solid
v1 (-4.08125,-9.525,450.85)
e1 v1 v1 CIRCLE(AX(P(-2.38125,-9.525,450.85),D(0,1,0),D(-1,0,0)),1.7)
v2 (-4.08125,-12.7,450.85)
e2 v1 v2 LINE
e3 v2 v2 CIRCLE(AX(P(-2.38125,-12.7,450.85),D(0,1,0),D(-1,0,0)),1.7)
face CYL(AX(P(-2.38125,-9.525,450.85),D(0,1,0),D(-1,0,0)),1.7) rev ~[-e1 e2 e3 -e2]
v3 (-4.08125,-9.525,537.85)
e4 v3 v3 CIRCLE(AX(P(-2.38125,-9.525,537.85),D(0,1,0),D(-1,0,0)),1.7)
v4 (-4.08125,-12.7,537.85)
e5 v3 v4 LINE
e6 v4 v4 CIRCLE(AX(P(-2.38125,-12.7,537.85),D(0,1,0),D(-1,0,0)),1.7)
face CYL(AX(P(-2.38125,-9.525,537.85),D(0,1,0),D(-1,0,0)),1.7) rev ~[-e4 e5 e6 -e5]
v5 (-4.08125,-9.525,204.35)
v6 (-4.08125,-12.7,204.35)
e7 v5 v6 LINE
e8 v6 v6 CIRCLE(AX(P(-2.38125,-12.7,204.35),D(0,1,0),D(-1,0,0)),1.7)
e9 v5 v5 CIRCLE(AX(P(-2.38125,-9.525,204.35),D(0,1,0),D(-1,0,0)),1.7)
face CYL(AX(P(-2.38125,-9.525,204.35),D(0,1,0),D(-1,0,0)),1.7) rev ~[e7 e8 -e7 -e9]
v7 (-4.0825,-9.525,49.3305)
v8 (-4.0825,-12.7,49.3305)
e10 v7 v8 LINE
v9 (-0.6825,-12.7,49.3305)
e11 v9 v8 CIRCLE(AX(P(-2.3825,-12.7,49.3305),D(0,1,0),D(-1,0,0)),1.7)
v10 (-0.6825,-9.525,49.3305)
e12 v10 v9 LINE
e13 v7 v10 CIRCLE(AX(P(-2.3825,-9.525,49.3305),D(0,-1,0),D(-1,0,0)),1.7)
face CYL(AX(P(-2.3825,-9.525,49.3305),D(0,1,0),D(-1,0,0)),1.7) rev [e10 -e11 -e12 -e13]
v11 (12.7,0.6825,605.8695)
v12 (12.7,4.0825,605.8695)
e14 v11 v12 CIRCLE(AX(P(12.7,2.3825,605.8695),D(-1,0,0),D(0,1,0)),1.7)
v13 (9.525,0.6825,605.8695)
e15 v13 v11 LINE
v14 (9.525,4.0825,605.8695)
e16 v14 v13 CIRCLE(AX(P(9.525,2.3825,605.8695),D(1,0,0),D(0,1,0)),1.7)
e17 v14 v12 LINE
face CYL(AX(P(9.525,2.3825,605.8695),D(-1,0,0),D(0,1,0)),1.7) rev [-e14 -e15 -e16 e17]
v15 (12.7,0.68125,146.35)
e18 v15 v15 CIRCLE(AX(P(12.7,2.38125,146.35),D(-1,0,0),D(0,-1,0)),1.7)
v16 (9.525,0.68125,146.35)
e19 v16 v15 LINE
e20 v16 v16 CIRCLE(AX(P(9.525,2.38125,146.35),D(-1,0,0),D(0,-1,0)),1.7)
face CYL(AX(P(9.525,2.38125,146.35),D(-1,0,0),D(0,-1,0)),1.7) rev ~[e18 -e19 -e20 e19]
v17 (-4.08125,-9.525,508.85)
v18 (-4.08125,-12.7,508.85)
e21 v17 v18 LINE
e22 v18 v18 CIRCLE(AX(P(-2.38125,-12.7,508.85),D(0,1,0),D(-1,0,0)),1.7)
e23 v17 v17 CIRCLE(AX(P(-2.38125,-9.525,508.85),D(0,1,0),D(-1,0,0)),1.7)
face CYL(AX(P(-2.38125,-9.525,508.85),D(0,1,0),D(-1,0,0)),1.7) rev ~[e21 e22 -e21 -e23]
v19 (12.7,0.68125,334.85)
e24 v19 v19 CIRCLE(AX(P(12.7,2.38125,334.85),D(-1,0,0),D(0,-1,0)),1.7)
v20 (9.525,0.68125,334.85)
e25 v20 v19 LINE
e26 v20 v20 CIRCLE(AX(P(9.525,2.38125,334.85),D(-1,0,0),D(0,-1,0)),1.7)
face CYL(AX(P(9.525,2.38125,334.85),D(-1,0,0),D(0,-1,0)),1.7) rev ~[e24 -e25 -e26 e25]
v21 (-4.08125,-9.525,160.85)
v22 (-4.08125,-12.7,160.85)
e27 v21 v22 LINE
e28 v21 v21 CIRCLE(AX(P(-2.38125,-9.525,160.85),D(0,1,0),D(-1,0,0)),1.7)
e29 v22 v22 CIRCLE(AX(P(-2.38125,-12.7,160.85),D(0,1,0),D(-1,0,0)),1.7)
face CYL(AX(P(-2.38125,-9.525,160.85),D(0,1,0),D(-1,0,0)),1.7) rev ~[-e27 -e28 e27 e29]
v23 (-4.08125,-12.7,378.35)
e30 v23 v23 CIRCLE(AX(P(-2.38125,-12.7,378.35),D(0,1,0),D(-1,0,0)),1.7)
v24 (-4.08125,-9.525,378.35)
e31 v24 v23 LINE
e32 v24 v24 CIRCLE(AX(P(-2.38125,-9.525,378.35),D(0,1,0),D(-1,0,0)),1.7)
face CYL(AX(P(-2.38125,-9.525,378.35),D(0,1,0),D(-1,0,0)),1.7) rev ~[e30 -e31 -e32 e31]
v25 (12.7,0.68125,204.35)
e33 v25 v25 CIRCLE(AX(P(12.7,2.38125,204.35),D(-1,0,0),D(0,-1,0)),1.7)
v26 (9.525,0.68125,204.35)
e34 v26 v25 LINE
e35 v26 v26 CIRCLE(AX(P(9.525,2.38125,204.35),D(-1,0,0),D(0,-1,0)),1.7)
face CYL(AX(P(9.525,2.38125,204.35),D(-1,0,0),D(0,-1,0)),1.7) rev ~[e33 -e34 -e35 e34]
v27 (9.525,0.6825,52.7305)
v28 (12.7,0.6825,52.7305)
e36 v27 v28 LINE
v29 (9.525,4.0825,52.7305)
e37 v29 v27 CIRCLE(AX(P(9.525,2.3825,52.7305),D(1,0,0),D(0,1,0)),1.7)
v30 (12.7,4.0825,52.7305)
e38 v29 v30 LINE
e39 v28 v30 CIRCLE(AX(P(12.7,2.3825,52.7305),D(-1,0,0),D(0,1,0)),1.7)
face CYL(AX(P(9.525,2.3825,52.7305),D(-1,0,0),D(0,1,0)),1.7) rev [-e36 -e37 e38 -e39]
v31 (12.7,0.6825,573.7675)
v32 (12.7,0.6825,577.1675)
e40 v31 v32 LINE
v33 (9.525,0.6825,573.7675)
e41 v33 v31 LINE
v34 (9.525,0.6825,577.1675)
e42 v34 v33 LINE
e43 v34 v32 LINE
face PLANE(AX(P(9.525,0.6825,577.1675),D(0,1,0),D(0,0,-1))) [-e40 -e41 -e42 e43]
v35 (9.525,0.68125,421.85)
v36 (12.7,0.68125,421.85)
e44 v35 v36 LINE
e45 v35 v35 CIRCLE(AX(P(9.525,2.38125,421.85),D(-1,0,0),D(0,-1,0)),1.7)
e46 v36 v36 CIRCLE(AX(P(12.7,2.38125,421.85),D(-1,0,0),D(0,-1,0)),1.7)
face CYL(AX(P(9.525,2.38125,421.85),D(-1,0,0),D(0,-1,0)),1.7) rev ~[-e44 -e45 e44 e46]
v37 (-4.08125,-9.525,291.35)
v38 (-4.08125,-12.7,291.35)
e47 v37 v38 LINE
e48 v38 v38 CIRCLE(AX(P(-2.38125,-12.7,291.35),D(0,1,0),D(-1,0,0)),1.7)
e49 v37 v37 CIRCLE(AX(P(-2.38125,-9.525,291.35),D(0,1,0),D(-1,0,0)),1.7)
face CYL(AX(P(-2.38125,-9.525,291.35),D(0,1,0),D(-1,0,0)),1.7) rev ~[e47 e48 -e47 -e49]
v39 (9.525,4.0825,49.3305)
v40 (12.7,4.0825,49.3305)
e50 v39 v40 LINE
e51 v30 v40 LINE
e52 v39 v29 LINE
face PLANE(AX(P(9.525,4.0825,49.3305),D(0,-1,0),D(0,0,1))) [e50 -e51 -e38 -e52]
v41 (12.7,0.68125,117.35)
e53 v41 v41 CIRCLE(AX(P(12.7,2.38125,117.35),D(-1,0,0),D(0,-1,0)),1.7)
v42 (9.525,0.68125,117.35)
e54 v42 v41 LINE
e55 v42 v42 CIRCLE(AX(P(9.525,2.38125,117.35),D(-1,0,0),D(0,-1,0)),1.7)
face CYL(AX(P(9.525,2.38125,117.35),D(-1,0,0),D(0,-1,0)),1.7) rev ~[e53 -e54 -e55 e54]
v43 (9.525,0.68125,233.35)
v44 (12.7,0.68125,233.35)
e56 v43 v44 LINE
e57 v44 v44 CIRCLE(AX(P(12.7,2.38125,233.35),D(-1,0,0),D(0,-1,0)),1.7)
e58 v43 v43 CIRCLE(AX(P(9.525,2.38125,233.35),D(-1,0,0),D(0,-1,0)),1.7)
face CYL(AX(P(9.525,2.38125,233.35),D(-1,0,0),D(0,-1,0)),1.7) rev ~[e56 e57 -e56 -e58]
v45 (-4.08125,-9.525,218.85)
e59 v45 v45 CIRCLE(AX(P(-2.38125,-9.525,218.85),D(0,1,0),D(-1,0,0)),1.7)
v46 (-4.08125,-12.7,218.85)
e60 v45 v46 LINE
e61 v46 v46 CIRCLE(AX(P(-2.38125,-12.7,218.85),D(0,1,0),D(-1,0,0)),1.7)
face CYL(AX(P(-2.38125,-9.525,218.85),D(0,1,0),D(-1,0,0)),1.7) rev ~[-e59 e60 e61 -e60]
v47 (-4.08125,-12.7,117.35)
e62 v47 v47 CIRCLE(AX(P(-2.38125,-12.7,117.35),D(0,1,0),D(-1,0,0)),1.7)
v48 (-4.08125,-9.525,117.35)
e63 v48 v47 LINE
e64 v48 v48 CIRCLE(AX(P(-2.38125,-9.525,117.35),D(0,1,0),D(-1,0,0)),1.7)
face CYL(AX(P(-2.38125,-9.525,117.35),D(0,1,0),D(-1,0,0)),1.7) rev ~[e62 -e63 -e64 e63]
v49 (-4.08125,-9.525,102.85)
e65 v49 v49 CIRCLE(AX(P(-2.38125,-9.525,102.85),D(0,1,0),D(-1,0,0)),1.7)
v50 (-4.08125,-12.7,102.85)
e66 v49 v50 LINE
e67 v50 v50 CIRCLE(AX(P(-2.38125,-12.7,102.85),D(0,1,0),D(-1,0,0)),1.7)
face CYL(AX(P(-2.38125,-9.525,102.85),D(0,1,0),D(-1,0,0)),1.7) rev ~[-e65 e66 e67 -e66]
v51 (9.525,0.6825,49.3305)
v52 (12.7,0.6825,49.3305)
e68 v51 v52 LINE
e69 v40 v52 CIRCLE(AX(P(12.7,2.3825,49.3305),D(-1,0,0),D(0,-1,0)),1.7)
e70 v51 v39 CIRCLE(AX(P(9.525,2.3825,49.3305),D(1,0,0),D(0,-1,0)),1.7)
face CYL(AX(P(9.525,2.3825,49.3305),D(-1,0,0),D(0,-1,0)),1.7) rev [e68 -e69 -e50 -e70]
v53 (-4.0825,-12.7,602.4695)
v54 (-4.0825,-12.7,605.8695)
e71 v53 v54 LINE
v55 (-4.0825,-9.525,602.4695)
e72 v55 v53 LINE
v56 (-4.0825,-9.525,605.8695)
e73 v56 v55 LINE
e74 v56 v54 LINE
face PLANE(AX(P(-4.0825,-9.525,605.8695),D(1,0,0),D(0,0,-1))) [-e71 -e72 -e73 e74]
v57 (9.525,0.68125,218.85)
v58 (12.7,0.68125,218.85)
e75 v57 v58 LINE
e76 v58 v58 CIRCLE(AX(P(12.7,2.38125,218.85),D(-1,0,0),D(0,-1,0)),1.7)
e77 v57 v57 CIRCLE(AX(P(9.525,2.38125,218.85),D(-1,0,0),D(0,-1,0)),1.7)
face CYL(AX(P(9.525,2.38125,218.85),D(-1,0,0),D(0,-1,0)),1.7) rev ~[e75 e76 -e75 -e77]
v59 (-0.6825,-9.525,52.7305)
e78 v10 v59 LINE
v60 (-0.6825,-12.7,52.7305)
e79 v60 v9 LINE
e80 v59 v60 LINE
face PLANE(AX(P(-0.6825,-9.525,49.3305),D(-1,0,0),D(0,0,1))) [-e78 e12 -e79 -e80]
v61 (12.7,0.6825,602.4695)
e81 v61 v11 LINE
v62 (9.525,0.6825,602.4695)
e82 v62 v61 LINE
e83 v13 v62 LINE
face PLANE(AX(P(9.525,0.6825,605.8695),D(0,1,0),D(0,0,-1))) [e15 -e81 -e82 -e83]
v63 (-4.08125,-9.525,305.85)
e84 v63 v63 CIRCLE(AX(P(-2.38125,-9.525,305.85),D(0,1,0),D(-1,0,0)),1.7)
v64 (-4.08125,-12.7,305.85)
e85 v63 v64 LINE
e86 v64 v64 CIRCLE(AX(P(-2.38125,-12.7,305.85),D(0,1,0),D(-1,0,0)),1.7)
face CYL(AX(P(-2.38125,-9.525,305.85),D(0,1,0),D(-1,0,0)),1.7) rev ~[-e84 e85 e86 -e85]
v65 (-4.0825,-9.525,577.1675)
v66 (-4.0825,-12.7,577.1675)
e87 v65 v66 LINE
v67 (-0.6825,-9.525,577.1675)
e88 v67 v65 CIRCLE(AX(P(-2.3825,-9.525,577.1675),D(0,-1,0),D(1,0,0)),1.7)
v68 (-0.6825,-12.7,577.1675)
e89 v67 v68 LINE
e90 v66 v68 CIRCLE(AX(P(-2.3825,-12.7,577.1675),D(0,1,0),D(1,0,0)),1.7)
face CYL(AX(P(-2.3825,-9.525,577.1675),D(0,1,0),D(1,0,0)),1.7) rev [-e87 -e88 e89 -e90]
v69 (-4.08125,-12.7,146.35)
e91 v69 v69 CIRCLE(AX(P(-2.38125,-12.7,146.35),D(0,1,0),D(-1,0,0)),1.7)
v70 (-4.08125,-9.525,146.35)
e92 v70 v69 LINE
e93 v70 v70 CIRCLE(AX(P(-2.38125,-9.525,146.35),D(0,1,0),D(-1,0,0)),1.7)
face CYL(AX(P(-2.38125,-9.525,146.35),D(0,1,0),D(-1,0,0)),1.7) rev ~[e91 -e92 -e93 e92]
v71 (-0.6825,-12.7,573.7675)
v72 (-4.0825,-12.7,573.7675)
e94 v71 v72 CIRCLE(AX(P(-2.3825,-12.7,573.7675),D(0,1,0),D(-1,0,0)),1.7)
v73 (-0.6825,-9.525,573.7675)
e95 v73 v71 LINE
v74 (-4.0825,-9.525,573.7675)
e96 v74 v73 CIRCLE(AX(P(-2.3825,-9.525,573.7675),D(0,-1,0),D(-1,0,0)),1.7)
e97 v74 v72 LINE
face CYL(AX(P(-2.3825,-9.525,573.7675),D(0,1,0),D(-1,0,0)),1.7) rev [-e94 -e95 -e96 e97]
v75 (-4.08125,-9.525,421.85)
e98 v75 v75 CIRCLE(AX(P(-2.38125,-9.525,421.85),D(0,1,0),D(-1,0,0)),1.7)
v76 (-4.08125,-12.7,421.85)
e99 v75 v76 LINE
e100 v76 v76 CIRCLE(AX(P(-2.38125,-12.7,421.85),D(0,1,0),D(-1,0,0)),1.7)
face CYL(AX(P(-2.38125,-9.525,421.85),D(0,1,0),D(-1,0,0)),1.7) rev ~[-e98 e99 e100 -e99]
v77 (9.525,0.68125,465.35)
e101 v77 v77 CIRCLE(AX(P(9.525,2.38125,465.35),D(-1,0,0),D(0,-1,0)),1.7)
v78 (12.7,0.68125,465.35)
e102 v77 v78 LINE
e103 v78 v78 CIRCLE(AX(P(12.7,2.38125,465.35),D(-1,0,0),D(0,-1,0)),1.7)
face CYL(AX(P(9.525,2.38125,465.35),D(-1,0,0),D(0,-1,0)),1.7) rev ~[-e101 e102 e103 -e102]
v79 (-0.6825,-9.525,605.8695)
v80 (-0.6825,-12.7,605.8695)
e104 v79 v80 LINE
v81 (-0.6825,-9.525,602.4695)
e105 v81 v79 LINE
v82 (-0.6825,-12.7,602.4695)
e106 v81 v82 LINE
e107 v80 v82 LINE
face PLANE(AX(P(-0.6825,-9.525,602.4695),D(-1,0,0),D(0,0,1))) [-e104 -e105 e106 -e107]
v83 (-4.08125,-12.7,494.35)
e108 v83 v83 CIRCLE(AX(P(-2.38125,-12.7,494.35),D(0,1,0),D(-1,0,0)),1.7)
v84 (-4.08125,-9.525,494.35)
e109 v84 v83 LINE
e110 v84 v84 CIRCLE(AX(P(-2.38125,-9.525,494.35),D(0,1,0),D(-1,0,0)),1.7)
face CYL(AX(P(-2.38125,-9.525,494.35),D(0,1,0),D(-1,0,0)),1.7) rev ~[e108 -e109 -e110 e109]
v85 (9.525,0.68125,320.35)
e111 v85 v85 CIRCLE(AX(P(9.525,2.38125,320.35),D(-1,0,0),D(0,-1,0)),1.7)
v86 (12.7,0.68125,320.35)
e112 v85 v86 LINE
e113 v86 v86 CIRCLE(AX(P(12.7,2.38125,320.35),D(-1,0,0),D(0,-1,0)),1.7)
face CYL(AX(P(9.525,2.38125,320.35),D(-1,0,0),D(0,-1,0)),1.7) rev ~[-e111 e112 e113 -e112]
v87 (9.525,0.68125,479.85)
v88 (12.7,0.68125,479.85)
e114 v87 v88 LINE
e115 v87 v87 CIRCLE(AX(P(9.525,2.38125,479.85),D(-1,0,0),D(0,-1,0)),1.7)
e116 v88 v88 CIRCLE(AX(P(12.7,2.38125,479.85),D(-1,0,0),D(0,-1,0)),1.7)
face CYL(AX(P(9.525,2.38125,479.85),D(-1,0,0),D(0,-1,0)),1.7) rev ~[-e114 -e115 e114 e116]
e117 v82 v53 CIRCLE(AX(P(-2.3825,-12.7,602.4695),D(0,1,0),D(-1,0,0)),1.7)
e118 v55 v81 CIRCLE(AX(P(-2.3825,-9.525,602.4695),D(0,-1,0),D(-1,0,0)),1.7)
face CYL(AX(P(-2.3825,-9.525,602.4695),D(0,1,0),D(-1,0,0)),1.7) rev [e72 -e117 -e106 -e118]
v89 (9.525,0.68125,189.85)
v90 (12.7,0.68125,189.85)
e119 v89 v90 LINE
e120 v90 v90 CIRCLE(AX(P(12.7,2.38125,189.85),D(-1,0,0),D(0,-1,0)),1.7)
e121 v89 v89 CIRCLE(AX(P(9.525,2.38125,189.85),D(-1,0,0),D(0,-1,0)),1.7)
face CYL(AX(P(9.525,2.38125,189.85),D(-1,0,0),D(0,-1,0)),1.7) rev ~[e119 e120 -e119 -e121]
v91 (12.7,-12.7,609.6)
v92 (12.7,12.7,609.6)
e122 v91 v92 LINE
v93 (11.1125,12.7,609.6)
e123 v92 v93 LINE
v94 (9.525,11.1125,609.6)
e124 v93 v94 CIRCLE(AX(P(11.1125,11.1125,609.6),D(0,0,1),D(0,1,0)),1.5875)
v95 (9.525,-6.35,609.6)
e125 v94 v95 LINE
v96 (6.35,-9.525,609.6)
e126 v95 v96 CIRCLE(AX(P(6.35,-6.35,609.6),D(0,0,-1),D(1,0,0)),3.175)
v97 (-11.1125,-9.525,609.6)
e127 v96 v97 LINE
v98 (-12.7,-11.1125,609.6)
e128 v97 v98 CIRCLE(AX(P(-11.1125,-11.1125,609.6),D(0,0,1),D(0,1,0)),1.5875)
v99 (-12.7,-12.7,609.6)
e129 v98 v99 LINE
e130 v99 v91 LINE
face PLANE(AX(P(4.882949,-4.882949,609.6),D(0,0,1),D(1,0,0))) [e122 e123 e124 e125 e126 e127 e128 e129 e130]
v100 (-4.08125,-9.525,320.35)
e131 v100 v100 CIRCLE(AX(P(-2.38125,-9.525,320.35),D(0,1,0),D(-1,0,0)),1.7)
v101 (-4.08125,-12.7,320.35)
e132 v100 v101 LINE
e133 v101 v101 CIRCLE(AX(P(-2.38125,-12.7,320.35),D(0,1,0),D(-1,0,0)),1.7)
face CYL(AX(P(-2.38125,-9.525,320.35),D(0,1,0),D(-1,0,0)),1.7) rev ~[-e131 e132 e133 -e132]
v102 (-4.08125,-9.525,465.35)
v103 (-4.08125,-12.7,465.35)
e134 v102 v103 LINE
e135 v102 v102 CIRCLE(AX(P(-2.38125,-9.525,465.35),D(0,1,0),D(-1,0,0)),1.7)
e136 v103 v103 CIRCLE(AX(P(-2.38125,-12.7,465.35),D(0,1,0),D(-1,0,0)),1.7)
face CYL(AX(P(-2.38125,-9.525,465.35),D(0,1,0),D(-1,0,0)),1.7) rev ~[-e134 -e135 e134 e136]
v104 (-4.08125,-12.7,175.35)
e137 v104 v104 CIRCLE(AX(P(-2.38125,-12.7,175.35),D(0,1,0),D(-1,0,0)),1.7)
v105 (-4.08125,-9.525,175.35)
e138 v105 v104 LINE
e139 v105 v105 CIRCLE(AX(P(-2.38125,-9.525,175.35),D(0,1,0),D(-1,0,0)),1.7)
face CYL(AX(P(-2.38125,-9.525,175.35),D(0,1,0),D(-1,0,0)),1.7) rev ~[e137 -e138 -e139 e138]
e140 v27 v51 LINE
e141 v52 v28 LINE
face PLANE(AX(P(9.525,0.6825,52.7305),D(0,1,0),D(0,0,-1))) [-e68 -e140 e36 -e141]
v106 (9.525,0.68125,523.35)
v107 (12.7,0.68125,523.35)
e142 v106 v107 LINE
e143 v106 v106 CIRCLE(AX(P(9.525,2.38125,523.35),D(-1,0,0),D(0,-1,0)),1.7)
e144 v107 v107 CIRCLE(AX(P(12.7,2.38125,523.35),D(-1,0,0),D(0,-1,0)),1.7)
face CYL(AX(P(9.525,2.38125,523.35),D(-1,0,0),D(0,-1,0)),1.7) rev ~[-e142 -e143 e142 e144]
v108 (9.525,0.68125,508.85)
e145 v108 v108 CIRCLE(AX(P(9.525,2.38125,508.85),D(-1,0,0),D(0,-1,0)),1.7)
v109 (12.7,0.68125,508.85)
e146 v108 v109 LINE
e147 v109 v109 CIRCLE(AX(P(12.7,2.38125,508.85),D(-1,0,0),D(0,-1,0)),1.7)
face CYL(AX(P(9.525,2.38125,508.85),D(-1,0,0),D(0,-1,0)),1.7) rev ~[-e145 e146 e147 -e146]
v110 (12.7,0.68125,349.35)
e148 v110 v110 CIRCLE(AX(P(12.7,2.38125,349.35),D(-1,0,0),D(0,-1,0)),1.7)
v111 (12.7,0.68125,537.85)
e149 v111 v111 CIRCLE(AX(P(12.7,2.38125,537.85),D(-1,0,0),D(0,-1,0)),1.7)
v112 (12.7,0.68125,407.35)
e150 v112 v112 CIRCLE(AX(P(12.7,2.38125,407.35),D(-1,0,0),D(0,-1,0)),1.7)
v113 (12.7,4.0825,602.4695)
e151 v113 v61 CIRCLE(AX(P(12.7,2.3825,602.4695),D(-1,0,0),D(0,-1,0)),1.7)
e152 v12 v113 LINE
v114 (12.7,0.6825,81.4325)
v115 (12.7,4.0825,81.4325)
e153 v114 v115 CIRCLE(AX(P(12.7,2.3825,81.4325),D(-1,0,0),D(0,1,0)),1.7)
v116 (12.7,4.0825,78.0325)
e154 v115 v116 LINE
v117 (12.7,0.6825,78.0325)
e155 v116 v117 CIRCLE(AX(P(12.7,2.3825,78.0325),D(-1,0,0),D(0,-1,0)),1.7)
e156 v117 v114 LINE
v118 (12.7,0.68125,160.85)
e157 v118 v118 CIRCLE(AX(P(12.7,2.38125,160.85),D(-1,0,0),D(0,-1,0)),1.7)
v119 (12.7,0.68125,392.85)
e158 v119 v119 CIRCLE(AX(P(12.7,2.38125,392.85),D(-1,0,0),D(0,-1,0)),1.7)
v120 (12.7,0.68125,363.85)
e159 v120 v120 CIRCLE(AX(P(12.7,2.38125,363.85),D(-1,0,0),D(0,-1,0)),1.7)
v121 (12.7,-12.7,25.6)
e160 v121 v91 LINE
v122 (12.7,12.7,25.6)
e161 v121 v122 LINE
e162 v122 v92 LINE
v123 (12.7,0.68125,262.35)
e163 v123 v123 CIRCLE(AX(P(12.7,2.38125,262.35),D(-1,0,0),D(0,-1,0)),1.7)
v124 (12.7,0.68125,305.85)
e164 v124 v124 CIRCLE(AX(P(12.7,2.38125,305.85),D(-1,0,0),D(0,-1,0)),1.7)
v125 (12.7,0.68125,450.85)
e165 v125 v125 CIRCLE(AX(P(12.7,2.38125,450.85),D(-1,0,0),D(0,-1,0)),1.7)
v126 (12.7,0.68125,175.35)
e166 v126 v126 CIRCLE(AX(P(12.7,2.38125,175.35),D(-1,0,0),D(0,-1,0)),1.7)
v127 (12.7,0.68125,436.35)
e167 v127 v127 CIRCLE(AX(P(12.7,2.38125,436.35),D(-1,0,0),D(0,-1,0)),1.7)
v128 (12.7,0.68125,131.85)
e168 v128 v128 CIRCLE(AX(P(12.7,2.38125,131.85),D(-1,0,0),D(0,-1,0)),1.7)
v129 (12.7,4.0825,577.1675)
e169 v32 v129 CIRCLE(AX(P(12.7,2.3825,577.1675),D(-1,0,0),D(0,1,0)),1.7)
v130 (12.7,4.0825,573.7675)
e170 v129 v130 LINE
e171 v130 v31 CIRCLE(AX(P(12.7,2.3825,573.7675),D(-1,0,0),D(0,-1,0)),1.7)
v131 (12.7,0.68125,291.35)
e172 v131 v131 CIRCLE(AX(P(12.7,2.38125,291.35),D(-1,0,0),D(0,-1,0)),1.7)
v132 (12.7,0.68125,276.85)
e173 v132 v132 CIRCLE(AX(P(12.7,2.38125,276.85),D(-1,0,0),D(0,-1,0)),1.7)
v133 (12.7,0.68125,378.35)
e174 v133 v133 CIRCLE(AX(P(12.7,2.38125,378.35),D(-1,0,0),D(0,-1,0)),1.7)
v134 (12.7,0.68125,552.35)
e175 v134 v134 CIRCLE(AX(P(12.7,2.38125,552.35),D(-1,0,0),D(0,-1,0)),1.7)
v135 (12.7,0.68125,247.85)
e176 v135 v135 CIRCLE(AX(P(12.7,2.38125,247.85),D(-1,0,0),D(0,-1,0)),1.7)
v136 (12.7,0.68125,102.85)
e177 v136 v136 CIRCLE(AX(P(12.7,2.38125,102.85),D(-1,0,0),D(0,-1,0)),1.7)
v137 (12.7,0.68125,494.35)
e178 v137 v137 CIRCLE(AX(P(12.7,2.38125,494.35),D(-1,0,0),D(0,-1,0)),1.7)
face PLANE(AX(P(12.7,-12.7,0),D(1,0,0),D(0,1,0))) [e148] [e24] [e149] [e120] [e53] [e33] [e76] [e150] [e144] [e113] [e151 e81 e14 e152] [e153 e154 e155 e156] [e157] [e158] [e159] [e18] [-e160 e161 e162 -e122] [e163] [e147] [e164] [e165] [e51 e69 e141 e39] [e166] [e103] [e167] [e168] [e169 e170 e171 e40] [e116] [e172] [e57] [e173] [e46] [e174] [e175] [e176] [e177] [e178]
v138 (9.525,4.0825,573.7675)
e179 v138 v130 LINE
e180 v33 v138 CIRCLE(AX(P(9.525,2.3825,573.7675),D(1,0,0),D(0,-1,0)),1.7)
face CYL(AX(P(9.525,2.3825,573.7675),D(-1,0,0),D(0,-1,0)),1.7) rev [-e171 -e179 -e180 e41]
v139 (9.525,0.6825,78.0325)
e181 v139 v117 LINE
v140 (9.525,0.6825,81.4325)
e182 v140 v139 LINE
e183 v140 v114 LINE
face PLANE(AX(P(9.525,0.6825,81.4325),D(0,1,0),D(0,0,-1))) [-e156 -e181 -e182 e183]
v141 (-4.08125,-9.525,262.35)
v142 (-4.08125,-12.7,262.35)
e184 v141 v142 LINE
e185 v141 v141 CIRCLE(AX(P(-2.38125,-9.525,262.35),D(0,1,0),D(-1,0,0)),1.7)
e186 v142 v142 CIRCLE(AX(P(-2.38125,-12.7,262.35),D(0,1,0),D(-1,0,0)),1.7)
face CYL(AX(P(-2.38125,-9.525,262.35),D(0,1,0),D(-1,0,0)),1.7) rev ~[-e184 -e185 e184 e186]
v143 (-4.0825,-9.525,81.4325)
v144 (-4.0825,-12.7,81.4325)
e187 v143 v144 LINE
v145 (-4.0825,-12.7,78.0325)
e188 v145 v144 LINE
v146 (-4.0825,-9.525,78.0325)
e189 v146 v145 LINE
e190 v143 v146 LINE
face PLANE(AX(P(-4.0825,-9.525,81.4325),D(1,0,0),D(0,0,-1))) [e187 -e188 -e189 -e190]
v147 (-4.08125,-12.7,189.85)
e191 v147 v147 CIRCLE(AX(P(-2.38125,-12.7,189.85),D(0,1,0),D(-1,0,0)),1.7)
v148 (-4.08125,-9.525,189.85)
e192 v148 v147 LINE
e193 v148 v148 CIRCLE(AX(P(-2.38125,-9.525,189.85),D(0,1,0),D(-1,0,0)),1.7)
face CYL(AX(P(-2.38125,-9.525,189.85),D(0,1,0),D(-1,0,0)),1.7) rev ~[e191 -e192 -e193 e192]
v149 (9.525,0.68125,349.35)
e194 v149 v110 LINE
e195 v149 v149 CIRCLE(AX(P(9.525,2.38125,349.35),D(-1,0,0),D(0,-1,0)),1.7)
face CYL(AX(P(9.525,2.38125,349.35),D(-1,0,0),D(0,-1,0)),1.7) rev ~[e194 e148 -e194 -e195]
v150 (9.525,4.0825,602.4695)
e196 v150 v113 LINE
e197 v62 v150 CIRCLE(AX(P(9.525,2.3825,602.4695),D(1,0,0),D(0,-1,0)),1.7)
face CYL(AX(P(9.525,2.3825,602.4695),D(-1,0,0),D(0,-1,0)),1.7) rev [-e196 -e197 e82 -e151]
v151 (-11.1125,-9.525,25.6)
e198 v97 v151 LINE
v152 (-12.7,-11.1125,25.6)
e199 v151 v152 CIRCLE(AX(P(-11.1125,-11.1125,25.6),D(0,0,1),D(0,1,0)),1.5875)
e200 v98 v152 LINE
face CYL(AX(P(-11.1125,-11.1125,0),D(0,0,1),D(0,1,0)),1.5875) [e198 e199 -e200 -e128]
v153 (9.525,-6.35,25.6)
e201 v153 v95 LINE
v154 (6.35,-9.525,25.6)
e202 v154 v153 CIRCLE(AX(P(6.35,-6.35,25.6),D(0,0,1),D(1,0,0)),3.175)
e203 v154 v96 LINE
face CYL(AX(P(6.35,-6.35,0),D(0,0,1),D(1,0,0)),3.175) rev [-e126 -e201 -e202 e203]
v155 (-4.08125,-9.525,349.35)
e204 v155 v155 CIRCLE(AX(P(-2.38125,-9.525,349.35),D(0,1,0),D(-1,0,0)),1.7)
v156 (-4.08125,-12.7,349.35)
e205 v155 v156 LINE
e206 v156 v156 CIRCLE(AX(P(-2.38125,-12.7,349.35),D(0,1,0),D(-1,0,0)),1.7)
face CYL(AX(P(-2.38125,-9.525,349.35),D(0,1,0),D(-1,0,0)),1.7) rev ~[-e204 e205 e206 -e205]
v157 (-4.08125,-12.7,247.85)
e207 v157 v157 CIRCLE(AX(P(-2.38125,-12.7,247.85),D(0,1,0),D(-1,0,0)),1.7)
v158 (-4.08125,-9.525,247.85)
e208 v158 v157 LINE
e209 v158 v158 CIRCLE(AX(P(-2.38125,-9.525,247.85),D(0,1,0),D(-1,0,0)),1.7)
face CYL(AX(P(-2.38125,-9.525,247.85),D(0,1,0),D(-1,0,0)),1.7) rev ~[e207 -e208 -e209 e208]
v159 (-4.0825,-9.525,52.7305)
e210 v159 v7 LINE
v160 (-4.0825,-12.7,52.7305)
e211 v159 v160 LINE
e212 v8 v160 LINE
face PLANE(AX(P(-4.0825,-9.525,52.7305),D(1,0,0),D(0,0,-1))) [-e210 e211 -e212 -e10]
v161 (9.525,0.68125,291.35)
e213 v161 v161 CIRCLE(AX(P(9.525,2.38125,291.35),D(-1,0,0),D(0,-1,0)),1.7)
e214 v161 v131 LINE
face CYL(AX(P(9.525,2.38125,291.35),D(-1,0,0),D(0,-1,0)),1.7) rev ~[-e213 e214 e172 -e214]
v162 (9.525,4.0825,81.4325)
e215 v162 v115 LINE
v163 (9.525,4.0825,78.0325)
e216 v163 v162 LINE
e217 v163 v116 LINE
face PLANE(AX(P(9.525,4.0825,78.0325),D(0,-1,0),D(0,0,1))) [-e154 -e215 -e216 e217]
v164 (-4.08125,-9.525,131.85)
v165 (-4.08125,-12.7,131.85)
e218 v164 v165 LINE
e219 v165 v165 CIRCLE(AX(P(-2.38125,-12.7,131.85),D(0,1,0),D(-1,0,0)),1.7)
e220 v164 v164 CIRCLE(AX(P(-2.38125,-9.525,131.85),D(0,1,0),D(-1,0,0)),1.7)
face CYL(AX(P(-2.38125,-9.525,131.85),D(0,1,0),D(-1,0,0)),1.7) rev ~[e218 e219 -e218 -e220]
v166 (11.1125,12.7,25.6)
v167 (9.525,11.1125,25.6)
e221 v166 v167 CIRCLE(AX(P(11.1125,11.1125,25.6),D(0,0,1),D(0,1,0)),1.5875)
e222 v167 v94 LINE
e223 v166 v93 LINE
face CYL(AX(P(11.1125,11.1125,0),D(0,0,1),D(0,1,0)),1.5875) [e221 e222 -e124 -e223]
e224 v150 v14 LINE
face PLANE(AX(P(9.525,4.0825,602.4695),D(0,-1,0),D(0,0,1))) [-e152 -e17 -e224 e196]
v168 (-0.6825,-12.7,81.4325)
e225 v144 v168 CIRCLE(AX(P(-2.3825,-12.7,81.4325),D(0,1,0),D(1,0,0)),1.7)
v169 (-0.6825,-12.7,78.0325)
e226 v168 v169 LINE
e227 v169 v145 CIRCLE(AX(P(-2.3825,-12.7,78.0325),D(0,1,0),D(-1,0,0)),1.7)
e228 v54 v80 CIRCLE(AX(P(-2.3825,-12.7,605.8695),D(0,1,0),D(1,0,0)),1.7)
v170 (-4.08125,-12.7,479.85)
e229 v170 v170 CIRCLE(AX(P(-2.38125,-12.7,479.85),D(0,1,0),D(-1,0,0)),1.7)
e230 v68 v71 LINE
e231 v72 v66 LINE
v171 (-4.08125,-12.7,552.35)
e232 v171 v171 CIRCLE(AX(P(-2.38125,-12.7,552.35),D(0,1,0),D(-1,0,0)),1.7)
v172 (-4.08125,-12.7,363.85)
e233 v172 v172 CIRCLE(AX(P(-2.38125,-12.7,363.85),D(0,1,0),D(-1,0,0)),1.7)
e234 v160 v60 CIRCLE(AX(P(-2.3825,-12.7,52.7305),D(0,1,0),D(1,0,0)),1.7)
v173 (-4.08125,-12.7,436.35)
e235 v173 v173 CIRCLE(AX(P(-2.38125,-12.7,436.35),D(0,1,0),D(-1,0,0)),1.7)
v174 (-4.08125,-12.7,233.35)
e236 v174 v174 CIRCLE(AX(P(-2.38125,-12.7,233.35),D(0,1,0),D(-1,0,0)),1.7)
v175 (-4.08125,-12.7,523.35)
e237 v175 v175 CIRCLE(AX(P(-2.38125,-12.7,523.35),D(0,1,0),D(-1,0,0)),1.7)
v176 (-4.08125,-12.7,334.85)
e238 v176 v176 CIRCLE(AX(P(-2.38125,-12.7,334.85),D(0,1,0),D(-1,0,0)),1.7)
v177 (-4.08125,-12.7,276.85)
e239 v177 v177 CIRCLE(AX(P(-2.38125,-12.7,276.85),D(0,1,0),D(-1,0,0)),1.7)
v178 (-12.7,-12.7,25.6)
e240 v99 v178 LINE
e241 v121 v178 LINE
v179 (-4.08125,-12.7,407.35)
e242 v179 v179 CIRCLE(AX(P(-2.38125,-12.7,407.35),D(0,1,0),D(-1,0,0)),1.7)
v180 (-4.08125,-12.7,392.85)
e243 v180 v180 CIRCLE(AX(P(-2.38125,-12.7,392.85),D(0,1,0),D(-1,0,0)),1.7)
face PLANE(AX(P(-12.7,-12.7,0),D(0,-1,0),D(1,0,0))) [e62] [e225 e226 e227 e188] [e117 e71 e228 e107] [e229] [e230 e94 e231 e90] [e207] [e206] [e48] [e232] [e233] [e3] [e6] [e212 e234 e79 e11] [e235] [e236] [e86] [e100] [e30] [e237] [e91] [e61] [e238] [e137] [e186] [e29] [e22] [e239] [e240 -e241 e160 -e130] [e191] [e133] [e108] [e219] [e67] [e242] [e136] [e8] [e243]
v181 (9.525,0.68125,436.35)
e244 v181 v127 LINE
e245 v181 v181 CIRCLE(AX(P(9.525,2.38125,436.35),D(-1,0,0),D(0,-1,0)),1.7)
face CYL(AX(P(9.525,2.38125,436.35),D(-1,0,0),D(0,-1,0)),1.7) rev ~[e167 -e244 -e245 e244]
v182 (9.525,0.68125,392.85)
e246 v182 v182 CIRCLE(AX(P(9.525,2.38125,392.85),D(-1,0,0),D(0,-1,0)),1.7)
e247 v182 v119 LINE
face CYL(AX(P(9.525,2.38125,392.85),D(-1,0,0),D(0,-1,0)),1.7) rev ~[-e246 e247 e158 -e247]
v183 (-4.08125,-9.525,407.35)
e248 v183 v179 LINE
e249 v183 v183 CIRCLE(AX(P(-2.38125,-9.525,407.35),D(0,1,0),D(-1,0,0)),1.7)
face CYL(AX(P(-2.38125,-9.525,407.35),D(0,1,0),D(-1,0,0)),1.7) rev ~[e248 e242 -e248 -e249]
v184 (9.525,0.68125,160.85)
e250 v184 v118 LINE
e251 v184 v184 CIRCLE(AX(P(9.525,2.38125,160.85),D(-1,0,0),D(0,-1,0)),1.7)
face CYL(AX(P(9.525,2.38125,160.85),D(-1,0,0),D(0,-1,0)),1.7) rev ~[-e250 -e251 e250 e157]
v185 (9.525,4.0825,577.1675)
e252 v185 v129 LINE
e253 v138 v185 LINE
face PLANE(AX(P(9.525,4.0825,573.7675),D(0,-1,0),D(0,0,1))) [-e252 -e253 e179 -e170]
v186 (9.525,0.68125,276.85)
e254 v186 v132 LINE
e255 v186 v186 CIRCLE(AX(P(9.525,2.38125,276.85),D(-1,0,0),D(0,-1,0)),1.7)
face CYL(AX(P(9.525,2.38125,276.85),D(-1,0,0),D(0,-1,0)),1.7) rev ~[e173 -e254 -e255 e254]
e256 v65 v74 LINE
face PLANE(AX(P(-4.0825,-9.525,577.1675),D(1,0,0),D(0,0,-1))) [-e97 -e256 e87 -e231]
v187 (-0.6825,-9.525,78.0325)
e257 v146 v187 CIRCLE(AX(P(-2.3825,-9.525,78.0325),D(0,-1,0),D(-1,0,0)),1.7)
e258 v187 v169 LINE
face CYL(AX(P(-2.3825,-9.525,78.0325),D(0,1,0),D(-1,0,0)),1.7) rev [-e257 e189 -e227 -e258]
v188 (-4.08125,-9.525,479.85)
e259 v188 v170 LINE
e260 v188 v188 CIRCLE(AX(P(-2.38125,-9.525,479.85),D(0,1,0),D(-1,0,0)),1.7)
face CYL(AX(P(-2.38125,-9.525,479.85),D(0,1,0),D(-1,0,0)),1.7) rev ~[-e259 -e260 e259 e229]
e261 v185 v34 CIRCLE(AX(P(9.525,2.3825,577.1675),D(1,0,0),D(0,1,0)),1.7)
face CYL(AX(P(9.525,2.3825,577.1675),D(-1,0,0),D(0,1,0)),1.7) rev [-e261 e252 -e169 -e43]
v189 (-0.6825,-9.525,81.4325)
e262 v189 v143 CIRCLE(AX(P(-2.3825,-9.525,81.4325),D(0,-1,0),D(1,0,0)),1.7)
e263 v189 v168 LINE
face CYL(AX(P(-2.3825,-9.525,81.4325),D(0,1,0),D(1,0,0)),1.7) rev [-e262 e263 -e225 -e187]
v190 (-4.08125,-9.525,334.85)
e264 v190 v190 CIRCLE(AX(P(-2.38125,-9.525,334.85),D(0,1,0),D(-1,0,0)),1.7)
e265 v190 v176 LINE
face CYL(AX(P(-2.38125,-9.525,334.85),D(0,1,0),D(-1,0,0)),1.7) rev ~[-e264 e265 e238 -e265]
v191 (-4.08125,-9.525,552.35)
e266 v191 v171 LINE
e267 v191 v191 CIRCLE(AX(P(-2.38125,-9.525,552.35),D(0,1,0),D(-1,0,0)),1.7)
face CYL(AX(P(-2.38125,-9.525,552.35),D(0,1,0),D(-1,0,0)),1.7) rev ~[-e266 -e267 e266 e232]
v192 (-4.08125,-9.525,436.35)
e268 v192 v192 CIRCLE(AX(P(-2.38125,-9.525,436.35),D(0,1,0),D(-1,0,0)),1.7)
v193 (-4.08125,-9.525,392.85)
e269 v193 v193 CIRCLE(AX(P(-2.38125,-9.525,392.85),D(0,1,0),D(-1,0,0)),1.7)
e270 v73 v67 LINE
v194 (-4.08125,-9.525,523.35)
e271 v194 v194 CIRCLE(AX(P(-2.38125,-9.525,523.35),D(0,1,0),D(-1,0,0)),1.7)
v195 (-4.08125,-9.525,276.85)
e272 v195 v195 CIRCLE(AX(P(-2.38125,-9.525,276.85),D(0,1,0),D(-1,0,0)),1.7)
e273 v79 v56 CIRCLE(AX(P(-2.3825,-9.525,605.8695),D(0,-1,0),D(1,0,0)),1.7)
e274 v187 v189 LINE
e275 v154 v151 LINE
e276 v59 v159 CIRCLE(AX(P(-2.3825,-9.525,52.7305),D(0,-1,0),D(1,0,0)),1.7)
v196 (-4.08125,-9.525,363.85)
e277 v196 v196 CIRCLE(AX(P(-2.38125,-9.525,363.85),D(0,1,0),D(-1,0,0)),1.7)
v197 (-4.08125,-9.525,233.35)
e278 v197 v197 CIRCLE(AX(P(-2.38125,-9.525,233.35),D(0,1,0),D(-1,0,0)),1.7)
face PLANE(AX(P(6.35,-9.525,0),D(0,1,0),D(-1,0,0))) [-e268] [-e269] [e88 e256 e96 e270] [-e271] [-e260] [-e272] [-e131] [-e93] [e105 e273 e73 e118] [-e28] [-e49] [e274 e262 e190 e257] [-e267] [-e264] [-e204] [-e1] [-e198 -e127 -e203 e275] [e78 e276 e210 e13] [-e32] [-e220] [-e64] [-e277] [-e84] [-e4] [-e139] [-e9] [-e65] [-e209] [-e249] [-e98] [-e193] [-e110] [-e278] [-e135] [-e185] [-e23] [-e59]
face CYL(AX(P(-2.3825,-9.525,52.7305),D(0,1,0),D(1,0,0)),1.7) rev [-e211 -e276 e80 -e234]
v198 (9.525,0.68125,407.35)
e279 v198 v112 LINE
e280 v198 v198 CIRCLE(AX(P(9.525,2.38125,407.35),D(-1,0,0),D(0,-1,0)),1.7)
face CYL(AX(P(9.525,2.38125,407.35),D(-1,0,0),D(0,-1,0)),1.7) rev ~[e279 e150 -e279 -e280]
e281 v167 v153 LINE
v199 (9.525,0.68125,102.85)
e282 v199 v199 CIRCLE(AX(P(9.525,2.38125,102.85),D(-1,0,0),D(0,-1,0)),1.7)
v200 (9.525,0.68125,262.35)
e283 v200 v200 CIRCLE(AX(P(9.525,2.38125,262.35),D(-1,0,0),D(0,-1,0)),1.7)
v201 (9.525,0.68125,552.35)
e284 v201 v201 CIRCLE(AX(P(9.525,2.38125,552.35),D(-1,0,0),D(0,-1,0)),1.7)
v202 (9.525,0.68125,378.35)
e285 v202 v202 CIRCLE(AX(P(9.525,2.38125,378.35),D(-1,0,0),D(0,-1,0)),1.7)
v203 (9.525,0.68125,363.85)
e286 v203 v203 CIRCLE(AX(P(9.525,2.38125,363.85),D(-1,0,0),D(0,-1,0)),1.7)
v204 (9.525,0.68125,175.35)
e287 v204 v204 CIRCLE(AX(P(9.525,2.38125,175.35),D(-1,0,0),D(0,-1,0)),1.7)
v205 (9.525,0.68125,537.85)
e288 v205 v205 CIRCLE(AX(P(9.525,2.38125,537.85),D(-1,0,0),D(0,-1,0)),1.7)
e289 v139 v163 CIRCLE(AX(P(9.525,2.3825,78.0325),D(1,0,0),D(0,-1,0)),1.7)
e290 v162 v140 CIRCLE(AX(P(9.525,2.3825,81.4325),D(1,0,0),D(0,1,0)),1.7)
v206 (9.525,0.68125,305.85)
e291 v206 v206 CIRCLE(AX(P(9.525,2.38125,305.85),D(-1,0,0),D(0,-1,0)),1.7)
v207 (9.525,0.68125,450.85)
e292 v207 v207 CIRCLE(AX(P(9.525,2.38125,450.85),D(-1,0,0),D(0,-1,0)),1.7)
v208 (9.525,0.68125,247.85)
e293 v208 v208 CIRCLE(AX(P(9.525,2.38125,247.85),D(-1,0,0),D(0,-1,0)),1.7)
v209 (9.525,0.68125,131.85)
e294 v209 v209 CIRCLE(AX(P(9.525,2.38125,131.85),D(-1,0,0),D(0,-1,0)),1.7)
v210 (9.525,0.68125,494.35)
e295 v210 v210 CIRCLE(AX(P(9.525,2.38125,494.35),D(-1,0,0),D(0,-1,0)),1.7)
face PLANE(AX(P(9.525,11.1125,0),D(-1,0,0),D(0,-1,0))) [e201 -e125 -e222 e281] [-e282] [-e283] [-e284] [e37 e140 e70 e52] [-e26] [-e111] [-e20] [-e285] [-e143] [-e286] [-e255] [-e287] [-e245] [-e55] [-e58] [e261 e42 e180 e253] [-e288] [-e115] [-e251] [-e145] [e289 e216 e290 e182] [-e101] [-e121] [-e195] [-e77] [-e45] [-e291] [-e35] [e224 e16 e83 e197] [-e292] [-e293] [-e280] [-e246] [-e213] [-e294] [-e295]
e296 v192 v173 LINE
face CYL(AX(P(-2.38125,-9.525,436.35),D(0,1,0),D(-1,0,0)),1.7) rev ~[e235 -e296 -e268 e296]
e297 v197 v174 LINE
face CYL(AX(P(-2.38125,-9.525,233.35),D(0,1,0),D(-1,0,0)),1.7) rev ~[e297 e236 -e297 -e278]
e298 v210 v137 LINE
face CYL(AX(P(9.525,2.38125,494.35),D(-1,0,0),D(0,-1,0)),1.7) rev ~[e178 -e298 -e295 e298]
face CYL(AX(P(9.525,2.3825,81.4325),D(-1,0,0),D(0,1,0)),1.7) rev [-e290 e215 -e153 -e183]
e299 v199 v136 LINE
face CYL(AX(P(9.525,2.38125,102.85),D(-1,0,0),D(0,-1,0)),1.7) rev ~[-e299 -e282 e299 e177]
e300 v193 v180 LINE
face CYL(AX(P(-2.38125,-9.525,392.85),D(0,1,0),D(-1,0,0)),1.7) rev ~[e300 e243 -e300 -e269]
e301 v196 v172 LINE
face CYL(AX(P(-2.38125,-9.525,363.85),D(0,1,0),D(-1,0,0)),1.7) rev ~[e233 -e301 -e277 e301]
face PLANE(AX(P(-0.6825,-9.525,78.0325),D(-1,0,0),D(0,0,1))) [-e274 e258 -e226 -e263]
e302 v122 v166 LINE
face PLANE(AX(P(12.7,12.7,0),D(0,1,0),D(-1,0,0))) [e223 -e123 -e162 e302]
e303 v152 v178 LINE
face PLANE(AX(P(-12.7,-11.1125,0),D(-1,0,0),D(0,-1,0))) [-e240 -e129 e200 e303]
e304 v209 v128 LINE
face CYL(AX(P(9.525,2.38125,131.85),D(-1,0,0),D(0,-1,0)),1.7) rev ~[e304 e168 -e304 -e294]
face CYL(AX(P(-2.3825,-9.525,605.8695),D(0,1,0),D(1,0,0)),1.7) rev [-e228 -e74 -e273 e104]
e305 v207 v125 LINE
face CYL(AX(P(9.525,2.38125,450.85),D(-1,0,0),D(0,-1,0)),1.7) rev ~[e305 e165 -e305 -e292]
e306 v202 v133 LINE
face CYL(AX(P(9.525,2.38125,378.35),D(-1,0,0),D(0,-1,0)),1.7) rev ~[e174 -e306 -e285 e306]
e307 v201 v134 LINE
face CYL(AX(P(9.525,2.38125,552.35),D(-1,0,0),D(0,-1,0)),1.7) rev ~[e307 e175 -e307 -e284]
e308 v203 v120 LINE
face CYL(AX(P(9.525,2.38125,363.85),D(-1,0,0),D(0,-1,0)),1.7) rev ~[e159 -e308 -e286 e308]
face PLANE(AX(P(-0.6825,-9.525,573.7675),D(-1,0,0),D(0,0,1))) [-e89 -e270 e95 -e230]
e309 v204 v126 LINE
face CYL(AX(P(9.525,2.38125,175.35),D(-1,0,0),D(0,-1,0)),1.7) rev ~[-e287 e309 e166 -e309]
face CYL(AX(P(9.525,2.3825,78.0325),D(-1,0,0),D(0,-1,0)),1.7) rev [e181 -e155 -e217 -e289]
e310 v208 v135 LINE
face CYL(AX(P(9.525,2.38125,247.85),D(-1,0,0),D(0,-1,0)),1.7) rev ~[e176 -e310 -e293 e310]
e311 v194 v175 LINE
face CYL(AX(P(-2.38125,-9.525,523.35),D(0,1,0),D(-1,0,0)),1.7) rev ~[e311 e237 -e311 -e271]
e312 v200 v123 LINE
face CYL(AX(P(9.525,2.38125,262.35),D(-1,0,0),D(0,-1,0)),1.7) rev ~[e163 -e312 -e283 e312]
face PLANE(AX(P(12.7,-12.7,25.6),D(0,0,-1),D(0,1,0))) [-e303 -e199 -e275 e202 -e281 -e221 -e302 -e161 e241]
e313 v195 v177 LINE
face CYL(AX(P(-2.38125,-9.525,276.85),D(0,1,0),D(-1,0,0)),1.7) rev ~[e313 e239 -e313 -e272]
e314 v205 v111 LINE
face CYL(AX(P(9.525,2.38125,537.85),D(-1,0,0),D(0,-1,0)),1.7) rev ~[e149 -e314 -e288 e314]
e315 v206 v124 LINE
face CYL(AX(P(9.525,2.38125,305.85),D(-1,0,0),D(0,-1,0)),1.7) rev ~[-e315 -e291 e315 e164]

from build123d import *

# Parameters (mm, degrees)
BOSS_EXTRUDE1_DEPTH = 609.6
SKETCH3_W           = 635.2
SKETCH3_H           = 25.4
CUT_EXTRUDE2_DEPTH  = 30.48
SKETCH4_R           = 1.7
CUT_EXTRUDE4_DEPTH  = 611.137198198
SKETCH7_R           = 1.7
CUT_EXTRUDE6_DEPTH  = 611.137198198
CUT_EXTRUDE7_DEPTH  = 611.137198198
CUT_EXTRUDE8_DEPTH  = 611.137198198


with BuildPart() as part:
    # Sketch2 → Boss-Extrude1 (new, symmetric)
    with BuildSketch(Plane.XY):
        with BuildLine():
            Line((-12.7, -12.7), (12.7, -12.7))
            Line((12.7, -12.7), (12.7, 12.7))
            Line((12.7, 12.7), (11.1125, 12.7))
            ThreePointArc((11.1125, 12.7), (9.989967985, 12.235032015), (9.525, 11.1125))
            Line((9.525, 11.1125), (9.525, -6.35))
            ThreePointArc((9.525, -6.35), (8.59506403, -8.59506403), (6.35, -9.525))
            Line((6.35, -9.525), (-11.1125, -9.525))
            ThreePointArc((-11.1125, -9.525), (-12.235032015, -9.989967985), (-12.7, -11.1125))
            Line((-12.7, -11.1125), (-12.7, -12.7))
        make_face()
    extrude(amount=BOSS_EXTRUDE1_DEPTH, both=True)

    # Sketch3 → Cut-Extrude2 (cut)
    with BuildSketch(Plane(origin=(12.7, 0, 0), x_dir=(0, 0, -1), z_dir=(1, 0, 0))):
        with Locations((292, 0)):
            Rectangle(SKETCH3_W, SKETCH3_H)
    extrude(amount=-CUT_EXTRUDE2_DEPTH, mode=Mode.SUBTRACT)

    # Sketch4 → Cut-Extrude4 (cut, through all)
    with BuildSketch(Plane(origin=(0, -9.525, 0), x_dir=(1, 0, 0), z_dir=(0, 1, 0))):
        with Locations(Location((-2.38125, -552.35, 0), (0, 0, 180))):
            Circle(SKETCH4_R)
        with Locations(Location((-2.38125, -537.85, 0), (0, 0, 180))):
            Circle(SKETCH4_R)
        with Locations(Location((-2.38125, -523.35, 0), (0, 0, 180))):
            Circle(SKETCH4_R)
        with Locations(Location((-2.38125, -508.85, 0), (0, 0, 180))):
            Circle(SKETCH4_R)
        with Locations(Location((-2.38125, -494.35, 0), (0, 0, 180))):
            Circle(SKETCH4_R)
        with Locations(Location((-2.38125, -479.85, 0), (0, 0, 180))):
            Circle(SKETCH4_R)
        with Locations(Location((-2.38125, -465.35, 0), (0, 0, 180))):
            Circle(SKETCH4_R)
        with Locations(Location((-2.38125, -450.85, 0), (0, 0, 180))):
            Circle(SKETCH4_R)
        with Locations(Location((-2.38125, -436.35, 0), (0, 0, 180))):
            Circle(SKETCH4_R)
        with Locations(Location((-2.38125, -421.85, 0), (0, 0, 180))):
            Circle(SKETCH4_R)
        with Locations(Location((-2.38125, -407.35, 0), (0, 0, 180))):
            Circle(SKETCH4_R)
        with Locations(Location((-2.38125, -392.85, 0), (0, 0, 180))):
            Circle(SKETCH4_R)
        with Locations(Location((-2.38125, -378.35, 0), (0, 0, 180))):
            Circle(SKETCH4_R)
        with Locations(Location((-2.38125, -363.85, 0), (0, 0, 180))):
            Circle(SKETCH4_R)
        with Locations(Location((-2.38125, -349.35, 0), (0, 0, 180))):
            Circle(SKETCH4_R)
        with Locations(Location((-2.38125, -334.85, 0), (0, 0, 180))):
            Circle(SKETCH4_R)
        with Locations(Location((-2.38125, -320.35, 0), (0, 0, 180))):
            Circle(SKETCH4_R)
        with Locations(Location((-2.38125, -305.85, 0), (0, 0, 180))):
            Circle(SKETCH4_R)
        with Locations(Location((-2.38125, -291.35, 0), (0, 0, 180))):
            Circle(SKETCH4_R)
        with Locations(Location((-2.38125, -276.85, 0), (0, 0, 180))):
            Circle(SKETCH4_R)
        with Locations(Location((-2.38125, -262.35, 0), (0, 0, 180))):
            Circle(SKETCH4_R)
        with Locations(Location((-2.38125, -247.85, 0), (0, 0, 180))):
            Circle(SKETCH4_R)
        with Locations(Location((-2.38125, -233.35, 0), (0, 0, 180))):
            Circle(SKETCH4_R)
        with Locations(Location((-2.38125, -218.85, 0), (0, 0, 180))):
            Circle(SKETCH4_R)
        with Locations(Location((-2.38125, -204.35, 0), (0, 0, 180))):
            Circle(SKETCH4_R)
        with Locations(Location((-2.38125, -189.85, 0), (0, 0, 180))):
            Circle(SKETCH4_R)
        with Locations(Location((-2.38125, -175.35, 0), (0, 0, 180))):
            Circle(SKETCH4_R)
        with Locations(Location((-2.38125, -160.85, 0), (0, 0, 180))):
            Circle(SKETCH4_R)
        with Locations(Location((-2.38125, -146.35, 0), (0, 0, 180))):
            Circle(SKETCH4_R)
        with Locations(Location((-2.38125, -131.85, 0), (0, 0, 180))):
            Circle(SKETCH4_R)
        with Locations(Location((-2.38125, -117.35, 0), (0, 0, 180))):
            Circle(SKETCH4_R)
        with Locations(Location((-2.38125, -102.85, 0), (0, 0, 180))):
            Circle(SKETCH4_R)
    extrude(amount=-CUT_EXTRUDE4_DEPTH, mode=Mode.SUBTRACT)

    # Sketch7 → Cut-Extrude6 (cut, through all)
    with BuildSketch(Plane.ZY.offset(-9.525)):
        with Locations(Location((552.35, 2.38125, 0), (0, 0, 270))):
            Circle(SKETCH7_R)
        with Locations(Location((537.85, 2.38125, 0), (0, 0, 270))):
            Circle(SKETCH7_R)
        with Locations(Location((523.35, 2.38125, 0), (0, 0, 270))):
            Circle(SKETCH7_R)
        with Locations(Location((508.85, 2.38125, 0), (0, 0, 270))):
            Circle(SKETCH7_R)
        with Locations(Location((494.35, 2.38125, 0), (0, 0, 270))):
            Circle(SKETCH7_R)
        with Locations(Location((479.85, 2.38125, 0), (0, 0, 270))):
            Circle(SKETCH7_R)
        with Locations(Location((465.35, 2.38125, 0), (0, 0, 270))):
            Circle(SKETCH7_R)
        with Locations(Location((450.85, 2.38125, 0), (0, 0, 270))):
            Circle(SKETCH7_R)
        with Locations(Location((436.35, 2.38125, 0), (0, 0, 270))):
            Circle(SKETCH7_R)
        with Locations(Location((421.85, 2.38125, 0), (0, 0, 270))):
            Circle(SKETCH7_R)
        with Locations(Location((407.35, 2.38125, 0), (0, 0, 270))):
            Circle(SKETCH7_R)
        with Locations(Location((392.85, 2.38125, 0), (0, 0, 270))):
            Circle(SKETCH7_R)
        with Locations(Location((378.35, 2.38125, 0), (0, 0, 270))):
            Circle(SKETCH7_R)
        with Locations(Location((363.85, 2.38125, 0), (0, 0, 270))):
            Circle(SKETCH7_R)
        with Locations(Location((349.35, 2.38125, 0), (0, 0, 270))):
            Circle(SKETCH7_R)
        with Locations(Location((334.85, 2.38125, 0), (0, 0, 270))):
            Circle(SKETCH7_R)
        with Locations(Location((320.35, 2.38125, 0), (0, 0, 270))):
            Circle(SKETCH7_R)
        with Locations(Location((305.85, 2.38125, 0), (0, 0, 270))):
            Circle(SKETCH7_R)
        with Locations(Location((291.35, 2.38125, 0), (0, 0, 270))):
            Circle(SKETCH7_R)
        with Locations(Location((276.85, 2.38125, 0), (0, 0, 270))):
            Circle(SKETCH7_R)
        with Locations(Location((262.35, 2.38125, 0), (0, 0, 270))):
            Circle(SKETCH7_R)
        with Locations(Location((247.85, 2.38125, 0), (0, 0, 270))):
            Circle(SKETCH7_R)
        with Locations(Location((233.35, 2.38125, 0), (0, 0, 270))):
            Circle(SKETCH7_R)
        with Locations(Location((218.85, 2.38125, 0), (0, 0, 270))):
            Circle(SKETCH7_R)
        with Locations(Location((204.35, 2.38125, 0), (0, 0, 270))):
            Circle(SKETCH7_R)
        with Locations(Location((189.85, 2.38125, 0), (0, 0, 270))):
            Circle(SKETCH7_R)
        with Locations(Location((175.35, 2.38125, 0), (0, 0, 270))):
            Circle(SKETCH7_R)
        with Locations(Location((160.85, 2.38125, 0), (0, 0, 270))):
            Circle(SKETCH7_R)
        with Locations(Location((146.35, 2.38125, 0), (0, 0, 270))):
            Circle(SKETCH7_R)
        with Locations(Location((131.85, 2.38125, 0), (0, 0, 270))):
            Circle(SKETCH7_R)
        with Locations(Location((117.35, 2.38125, 0), (0, 0, 270))):
            Circle(SKETCH7_R)
        with Locations(Location((102.85, 2.38125, 0), (0, 0, 270))):
            Circle(SKETCH7_R)
    extrude(amount=-CUT_EXTRUDE6_DEPTH, mode=Mode.SUBTRACT)

    # Sketch8 → Cut-Extrude7 (cut, through all)
    with BuildSketch(Plane.ZY.offset(-9.525)):
        with BuildLine():
            Line((49.3305, 4.0825), (52.7305, 4.0825))
            ThreePointArc((52.7305, 4.0825), (54.4305, 2.3825), (52.7305, 0.6825))
            Line((52.7305, 0.6825), (49.3305, 0.6825))
            ThreePointArc((49.3305, 0.6825), (47.6305, 2.3825), (49.3305, 4.0825))
        make_face()
        with BuildLine():
            Line((78.0325, 4.0825), (81.4325, 4.0825))
            ThreePointArc((81.4325, 4.0825), (83.1325, 2.3825), (81.4325, 0.6825))
            Line((81.4325, 0.6825), (78.0325, 0.6825))
            ThreePointArc((78.0325, 0.6825), (76.3325, 2.3825), (78.0325, 4.0825))
        make_face()
        with BuildLine():
            Line((573.7675, 4.0825), (577.1675, 4.0825))
            ThreePointArc((577.1675, 4.0825), (578.8675, 2.3825), (577.1675, 0.6825))
            Line((577.1675, 0.6825), (573.7675, 0.6825))
            ThreePointArc((573.7675, 0.6825), (572.0675, 2.3825), (573.7675, 4.0825))
        make_face()
        with BuildLine():
            Line((602.4695, 4.0825), (605.8695, 4.0825))
            ThreePointArc((605.8695, 4.0825), (607.5695, 2.3825), (605.8695, 0.6825))
            Line((605.8695, 0.6825), (602.4695, 0.6825))
            ThreePointArc((602.4695, 0.6825), (600.7695, 2.3825), (602.4695, 4.0825))
        make_face()
    extrude(amount=-CUT_EXTRUDE7_DEPTH, mode=Mode.SUBTRACT)

    # Sketch9 → Cut-Extrude8 (cut, through all)
    with BuildSketch(Plane(origin=(0, -9.525, 0), x_dir=(1, 0, 0), z_dir=(0, 1, 0))):
        with BuildLine():
            Line((-4.0825, -605.8695), (-4.0825, -602.4695))
            ThreePointArc((-4.0825, -602.4695), (-2.3825, -600.7695), (-0.6825, -602.4695))
            Line((-0.6825, -602.4695), (-0.6825, -605.8695))
            ThreePointArc((-0.6825, -605.8695), (-2.3825, -607.5695), (-4.0825, -605.8695))
        make_face()
        with BuildLine():
            Line((-4.0825, -577.1675), (-4.0825, -573.7675))
            ThreePointArc((-4.0825, -573.7675), (-2.3825, -572.0675), (-0.6825, -573.7675))
            Line((-0.6825, -573.7675), (-0.6825, -577.1675))
            ThreePointArc((-0.6825, -577.1675), (-2.3825, -578.8675), (-4.0825, -577.1675))
        make_face()
        with BuildLine():
            Line((-4.0825, -81.4325), (-4.0825, -78.0325))
            ThreePointArc((-4.0825, -78.0325), (-2.3825, -76.3325), (-0.6825, -78.0325))
            Line((-0.6825, -78.0325), (-0.6825, -81.4325))
            ThreePointArc((-0.6825, -81.4325), (-2.3825, -83.1325), (-4.0825, -81.4325))
        make_face()
        with BuildLine():
            Line((-4.0825, -52.7305), (-4.0825, -49.3305))
            ThreePointArc((-4.0825, -49.3305), (-2.3825, -47.6305), (-0.6825, -49.3305))
            Line((-0.6825, -49.3305), (-0.6825, -52.7305))
            ThreePointArc((-0.6825, -52.7305), (-2.3825, -54.4305), (-4.0825, -52.7305))
        make_face()
    extrude(amount=-CUT_EXTRUDE8_DEPTH, mode=Mode.SUBTRACT)


solid = part.part
